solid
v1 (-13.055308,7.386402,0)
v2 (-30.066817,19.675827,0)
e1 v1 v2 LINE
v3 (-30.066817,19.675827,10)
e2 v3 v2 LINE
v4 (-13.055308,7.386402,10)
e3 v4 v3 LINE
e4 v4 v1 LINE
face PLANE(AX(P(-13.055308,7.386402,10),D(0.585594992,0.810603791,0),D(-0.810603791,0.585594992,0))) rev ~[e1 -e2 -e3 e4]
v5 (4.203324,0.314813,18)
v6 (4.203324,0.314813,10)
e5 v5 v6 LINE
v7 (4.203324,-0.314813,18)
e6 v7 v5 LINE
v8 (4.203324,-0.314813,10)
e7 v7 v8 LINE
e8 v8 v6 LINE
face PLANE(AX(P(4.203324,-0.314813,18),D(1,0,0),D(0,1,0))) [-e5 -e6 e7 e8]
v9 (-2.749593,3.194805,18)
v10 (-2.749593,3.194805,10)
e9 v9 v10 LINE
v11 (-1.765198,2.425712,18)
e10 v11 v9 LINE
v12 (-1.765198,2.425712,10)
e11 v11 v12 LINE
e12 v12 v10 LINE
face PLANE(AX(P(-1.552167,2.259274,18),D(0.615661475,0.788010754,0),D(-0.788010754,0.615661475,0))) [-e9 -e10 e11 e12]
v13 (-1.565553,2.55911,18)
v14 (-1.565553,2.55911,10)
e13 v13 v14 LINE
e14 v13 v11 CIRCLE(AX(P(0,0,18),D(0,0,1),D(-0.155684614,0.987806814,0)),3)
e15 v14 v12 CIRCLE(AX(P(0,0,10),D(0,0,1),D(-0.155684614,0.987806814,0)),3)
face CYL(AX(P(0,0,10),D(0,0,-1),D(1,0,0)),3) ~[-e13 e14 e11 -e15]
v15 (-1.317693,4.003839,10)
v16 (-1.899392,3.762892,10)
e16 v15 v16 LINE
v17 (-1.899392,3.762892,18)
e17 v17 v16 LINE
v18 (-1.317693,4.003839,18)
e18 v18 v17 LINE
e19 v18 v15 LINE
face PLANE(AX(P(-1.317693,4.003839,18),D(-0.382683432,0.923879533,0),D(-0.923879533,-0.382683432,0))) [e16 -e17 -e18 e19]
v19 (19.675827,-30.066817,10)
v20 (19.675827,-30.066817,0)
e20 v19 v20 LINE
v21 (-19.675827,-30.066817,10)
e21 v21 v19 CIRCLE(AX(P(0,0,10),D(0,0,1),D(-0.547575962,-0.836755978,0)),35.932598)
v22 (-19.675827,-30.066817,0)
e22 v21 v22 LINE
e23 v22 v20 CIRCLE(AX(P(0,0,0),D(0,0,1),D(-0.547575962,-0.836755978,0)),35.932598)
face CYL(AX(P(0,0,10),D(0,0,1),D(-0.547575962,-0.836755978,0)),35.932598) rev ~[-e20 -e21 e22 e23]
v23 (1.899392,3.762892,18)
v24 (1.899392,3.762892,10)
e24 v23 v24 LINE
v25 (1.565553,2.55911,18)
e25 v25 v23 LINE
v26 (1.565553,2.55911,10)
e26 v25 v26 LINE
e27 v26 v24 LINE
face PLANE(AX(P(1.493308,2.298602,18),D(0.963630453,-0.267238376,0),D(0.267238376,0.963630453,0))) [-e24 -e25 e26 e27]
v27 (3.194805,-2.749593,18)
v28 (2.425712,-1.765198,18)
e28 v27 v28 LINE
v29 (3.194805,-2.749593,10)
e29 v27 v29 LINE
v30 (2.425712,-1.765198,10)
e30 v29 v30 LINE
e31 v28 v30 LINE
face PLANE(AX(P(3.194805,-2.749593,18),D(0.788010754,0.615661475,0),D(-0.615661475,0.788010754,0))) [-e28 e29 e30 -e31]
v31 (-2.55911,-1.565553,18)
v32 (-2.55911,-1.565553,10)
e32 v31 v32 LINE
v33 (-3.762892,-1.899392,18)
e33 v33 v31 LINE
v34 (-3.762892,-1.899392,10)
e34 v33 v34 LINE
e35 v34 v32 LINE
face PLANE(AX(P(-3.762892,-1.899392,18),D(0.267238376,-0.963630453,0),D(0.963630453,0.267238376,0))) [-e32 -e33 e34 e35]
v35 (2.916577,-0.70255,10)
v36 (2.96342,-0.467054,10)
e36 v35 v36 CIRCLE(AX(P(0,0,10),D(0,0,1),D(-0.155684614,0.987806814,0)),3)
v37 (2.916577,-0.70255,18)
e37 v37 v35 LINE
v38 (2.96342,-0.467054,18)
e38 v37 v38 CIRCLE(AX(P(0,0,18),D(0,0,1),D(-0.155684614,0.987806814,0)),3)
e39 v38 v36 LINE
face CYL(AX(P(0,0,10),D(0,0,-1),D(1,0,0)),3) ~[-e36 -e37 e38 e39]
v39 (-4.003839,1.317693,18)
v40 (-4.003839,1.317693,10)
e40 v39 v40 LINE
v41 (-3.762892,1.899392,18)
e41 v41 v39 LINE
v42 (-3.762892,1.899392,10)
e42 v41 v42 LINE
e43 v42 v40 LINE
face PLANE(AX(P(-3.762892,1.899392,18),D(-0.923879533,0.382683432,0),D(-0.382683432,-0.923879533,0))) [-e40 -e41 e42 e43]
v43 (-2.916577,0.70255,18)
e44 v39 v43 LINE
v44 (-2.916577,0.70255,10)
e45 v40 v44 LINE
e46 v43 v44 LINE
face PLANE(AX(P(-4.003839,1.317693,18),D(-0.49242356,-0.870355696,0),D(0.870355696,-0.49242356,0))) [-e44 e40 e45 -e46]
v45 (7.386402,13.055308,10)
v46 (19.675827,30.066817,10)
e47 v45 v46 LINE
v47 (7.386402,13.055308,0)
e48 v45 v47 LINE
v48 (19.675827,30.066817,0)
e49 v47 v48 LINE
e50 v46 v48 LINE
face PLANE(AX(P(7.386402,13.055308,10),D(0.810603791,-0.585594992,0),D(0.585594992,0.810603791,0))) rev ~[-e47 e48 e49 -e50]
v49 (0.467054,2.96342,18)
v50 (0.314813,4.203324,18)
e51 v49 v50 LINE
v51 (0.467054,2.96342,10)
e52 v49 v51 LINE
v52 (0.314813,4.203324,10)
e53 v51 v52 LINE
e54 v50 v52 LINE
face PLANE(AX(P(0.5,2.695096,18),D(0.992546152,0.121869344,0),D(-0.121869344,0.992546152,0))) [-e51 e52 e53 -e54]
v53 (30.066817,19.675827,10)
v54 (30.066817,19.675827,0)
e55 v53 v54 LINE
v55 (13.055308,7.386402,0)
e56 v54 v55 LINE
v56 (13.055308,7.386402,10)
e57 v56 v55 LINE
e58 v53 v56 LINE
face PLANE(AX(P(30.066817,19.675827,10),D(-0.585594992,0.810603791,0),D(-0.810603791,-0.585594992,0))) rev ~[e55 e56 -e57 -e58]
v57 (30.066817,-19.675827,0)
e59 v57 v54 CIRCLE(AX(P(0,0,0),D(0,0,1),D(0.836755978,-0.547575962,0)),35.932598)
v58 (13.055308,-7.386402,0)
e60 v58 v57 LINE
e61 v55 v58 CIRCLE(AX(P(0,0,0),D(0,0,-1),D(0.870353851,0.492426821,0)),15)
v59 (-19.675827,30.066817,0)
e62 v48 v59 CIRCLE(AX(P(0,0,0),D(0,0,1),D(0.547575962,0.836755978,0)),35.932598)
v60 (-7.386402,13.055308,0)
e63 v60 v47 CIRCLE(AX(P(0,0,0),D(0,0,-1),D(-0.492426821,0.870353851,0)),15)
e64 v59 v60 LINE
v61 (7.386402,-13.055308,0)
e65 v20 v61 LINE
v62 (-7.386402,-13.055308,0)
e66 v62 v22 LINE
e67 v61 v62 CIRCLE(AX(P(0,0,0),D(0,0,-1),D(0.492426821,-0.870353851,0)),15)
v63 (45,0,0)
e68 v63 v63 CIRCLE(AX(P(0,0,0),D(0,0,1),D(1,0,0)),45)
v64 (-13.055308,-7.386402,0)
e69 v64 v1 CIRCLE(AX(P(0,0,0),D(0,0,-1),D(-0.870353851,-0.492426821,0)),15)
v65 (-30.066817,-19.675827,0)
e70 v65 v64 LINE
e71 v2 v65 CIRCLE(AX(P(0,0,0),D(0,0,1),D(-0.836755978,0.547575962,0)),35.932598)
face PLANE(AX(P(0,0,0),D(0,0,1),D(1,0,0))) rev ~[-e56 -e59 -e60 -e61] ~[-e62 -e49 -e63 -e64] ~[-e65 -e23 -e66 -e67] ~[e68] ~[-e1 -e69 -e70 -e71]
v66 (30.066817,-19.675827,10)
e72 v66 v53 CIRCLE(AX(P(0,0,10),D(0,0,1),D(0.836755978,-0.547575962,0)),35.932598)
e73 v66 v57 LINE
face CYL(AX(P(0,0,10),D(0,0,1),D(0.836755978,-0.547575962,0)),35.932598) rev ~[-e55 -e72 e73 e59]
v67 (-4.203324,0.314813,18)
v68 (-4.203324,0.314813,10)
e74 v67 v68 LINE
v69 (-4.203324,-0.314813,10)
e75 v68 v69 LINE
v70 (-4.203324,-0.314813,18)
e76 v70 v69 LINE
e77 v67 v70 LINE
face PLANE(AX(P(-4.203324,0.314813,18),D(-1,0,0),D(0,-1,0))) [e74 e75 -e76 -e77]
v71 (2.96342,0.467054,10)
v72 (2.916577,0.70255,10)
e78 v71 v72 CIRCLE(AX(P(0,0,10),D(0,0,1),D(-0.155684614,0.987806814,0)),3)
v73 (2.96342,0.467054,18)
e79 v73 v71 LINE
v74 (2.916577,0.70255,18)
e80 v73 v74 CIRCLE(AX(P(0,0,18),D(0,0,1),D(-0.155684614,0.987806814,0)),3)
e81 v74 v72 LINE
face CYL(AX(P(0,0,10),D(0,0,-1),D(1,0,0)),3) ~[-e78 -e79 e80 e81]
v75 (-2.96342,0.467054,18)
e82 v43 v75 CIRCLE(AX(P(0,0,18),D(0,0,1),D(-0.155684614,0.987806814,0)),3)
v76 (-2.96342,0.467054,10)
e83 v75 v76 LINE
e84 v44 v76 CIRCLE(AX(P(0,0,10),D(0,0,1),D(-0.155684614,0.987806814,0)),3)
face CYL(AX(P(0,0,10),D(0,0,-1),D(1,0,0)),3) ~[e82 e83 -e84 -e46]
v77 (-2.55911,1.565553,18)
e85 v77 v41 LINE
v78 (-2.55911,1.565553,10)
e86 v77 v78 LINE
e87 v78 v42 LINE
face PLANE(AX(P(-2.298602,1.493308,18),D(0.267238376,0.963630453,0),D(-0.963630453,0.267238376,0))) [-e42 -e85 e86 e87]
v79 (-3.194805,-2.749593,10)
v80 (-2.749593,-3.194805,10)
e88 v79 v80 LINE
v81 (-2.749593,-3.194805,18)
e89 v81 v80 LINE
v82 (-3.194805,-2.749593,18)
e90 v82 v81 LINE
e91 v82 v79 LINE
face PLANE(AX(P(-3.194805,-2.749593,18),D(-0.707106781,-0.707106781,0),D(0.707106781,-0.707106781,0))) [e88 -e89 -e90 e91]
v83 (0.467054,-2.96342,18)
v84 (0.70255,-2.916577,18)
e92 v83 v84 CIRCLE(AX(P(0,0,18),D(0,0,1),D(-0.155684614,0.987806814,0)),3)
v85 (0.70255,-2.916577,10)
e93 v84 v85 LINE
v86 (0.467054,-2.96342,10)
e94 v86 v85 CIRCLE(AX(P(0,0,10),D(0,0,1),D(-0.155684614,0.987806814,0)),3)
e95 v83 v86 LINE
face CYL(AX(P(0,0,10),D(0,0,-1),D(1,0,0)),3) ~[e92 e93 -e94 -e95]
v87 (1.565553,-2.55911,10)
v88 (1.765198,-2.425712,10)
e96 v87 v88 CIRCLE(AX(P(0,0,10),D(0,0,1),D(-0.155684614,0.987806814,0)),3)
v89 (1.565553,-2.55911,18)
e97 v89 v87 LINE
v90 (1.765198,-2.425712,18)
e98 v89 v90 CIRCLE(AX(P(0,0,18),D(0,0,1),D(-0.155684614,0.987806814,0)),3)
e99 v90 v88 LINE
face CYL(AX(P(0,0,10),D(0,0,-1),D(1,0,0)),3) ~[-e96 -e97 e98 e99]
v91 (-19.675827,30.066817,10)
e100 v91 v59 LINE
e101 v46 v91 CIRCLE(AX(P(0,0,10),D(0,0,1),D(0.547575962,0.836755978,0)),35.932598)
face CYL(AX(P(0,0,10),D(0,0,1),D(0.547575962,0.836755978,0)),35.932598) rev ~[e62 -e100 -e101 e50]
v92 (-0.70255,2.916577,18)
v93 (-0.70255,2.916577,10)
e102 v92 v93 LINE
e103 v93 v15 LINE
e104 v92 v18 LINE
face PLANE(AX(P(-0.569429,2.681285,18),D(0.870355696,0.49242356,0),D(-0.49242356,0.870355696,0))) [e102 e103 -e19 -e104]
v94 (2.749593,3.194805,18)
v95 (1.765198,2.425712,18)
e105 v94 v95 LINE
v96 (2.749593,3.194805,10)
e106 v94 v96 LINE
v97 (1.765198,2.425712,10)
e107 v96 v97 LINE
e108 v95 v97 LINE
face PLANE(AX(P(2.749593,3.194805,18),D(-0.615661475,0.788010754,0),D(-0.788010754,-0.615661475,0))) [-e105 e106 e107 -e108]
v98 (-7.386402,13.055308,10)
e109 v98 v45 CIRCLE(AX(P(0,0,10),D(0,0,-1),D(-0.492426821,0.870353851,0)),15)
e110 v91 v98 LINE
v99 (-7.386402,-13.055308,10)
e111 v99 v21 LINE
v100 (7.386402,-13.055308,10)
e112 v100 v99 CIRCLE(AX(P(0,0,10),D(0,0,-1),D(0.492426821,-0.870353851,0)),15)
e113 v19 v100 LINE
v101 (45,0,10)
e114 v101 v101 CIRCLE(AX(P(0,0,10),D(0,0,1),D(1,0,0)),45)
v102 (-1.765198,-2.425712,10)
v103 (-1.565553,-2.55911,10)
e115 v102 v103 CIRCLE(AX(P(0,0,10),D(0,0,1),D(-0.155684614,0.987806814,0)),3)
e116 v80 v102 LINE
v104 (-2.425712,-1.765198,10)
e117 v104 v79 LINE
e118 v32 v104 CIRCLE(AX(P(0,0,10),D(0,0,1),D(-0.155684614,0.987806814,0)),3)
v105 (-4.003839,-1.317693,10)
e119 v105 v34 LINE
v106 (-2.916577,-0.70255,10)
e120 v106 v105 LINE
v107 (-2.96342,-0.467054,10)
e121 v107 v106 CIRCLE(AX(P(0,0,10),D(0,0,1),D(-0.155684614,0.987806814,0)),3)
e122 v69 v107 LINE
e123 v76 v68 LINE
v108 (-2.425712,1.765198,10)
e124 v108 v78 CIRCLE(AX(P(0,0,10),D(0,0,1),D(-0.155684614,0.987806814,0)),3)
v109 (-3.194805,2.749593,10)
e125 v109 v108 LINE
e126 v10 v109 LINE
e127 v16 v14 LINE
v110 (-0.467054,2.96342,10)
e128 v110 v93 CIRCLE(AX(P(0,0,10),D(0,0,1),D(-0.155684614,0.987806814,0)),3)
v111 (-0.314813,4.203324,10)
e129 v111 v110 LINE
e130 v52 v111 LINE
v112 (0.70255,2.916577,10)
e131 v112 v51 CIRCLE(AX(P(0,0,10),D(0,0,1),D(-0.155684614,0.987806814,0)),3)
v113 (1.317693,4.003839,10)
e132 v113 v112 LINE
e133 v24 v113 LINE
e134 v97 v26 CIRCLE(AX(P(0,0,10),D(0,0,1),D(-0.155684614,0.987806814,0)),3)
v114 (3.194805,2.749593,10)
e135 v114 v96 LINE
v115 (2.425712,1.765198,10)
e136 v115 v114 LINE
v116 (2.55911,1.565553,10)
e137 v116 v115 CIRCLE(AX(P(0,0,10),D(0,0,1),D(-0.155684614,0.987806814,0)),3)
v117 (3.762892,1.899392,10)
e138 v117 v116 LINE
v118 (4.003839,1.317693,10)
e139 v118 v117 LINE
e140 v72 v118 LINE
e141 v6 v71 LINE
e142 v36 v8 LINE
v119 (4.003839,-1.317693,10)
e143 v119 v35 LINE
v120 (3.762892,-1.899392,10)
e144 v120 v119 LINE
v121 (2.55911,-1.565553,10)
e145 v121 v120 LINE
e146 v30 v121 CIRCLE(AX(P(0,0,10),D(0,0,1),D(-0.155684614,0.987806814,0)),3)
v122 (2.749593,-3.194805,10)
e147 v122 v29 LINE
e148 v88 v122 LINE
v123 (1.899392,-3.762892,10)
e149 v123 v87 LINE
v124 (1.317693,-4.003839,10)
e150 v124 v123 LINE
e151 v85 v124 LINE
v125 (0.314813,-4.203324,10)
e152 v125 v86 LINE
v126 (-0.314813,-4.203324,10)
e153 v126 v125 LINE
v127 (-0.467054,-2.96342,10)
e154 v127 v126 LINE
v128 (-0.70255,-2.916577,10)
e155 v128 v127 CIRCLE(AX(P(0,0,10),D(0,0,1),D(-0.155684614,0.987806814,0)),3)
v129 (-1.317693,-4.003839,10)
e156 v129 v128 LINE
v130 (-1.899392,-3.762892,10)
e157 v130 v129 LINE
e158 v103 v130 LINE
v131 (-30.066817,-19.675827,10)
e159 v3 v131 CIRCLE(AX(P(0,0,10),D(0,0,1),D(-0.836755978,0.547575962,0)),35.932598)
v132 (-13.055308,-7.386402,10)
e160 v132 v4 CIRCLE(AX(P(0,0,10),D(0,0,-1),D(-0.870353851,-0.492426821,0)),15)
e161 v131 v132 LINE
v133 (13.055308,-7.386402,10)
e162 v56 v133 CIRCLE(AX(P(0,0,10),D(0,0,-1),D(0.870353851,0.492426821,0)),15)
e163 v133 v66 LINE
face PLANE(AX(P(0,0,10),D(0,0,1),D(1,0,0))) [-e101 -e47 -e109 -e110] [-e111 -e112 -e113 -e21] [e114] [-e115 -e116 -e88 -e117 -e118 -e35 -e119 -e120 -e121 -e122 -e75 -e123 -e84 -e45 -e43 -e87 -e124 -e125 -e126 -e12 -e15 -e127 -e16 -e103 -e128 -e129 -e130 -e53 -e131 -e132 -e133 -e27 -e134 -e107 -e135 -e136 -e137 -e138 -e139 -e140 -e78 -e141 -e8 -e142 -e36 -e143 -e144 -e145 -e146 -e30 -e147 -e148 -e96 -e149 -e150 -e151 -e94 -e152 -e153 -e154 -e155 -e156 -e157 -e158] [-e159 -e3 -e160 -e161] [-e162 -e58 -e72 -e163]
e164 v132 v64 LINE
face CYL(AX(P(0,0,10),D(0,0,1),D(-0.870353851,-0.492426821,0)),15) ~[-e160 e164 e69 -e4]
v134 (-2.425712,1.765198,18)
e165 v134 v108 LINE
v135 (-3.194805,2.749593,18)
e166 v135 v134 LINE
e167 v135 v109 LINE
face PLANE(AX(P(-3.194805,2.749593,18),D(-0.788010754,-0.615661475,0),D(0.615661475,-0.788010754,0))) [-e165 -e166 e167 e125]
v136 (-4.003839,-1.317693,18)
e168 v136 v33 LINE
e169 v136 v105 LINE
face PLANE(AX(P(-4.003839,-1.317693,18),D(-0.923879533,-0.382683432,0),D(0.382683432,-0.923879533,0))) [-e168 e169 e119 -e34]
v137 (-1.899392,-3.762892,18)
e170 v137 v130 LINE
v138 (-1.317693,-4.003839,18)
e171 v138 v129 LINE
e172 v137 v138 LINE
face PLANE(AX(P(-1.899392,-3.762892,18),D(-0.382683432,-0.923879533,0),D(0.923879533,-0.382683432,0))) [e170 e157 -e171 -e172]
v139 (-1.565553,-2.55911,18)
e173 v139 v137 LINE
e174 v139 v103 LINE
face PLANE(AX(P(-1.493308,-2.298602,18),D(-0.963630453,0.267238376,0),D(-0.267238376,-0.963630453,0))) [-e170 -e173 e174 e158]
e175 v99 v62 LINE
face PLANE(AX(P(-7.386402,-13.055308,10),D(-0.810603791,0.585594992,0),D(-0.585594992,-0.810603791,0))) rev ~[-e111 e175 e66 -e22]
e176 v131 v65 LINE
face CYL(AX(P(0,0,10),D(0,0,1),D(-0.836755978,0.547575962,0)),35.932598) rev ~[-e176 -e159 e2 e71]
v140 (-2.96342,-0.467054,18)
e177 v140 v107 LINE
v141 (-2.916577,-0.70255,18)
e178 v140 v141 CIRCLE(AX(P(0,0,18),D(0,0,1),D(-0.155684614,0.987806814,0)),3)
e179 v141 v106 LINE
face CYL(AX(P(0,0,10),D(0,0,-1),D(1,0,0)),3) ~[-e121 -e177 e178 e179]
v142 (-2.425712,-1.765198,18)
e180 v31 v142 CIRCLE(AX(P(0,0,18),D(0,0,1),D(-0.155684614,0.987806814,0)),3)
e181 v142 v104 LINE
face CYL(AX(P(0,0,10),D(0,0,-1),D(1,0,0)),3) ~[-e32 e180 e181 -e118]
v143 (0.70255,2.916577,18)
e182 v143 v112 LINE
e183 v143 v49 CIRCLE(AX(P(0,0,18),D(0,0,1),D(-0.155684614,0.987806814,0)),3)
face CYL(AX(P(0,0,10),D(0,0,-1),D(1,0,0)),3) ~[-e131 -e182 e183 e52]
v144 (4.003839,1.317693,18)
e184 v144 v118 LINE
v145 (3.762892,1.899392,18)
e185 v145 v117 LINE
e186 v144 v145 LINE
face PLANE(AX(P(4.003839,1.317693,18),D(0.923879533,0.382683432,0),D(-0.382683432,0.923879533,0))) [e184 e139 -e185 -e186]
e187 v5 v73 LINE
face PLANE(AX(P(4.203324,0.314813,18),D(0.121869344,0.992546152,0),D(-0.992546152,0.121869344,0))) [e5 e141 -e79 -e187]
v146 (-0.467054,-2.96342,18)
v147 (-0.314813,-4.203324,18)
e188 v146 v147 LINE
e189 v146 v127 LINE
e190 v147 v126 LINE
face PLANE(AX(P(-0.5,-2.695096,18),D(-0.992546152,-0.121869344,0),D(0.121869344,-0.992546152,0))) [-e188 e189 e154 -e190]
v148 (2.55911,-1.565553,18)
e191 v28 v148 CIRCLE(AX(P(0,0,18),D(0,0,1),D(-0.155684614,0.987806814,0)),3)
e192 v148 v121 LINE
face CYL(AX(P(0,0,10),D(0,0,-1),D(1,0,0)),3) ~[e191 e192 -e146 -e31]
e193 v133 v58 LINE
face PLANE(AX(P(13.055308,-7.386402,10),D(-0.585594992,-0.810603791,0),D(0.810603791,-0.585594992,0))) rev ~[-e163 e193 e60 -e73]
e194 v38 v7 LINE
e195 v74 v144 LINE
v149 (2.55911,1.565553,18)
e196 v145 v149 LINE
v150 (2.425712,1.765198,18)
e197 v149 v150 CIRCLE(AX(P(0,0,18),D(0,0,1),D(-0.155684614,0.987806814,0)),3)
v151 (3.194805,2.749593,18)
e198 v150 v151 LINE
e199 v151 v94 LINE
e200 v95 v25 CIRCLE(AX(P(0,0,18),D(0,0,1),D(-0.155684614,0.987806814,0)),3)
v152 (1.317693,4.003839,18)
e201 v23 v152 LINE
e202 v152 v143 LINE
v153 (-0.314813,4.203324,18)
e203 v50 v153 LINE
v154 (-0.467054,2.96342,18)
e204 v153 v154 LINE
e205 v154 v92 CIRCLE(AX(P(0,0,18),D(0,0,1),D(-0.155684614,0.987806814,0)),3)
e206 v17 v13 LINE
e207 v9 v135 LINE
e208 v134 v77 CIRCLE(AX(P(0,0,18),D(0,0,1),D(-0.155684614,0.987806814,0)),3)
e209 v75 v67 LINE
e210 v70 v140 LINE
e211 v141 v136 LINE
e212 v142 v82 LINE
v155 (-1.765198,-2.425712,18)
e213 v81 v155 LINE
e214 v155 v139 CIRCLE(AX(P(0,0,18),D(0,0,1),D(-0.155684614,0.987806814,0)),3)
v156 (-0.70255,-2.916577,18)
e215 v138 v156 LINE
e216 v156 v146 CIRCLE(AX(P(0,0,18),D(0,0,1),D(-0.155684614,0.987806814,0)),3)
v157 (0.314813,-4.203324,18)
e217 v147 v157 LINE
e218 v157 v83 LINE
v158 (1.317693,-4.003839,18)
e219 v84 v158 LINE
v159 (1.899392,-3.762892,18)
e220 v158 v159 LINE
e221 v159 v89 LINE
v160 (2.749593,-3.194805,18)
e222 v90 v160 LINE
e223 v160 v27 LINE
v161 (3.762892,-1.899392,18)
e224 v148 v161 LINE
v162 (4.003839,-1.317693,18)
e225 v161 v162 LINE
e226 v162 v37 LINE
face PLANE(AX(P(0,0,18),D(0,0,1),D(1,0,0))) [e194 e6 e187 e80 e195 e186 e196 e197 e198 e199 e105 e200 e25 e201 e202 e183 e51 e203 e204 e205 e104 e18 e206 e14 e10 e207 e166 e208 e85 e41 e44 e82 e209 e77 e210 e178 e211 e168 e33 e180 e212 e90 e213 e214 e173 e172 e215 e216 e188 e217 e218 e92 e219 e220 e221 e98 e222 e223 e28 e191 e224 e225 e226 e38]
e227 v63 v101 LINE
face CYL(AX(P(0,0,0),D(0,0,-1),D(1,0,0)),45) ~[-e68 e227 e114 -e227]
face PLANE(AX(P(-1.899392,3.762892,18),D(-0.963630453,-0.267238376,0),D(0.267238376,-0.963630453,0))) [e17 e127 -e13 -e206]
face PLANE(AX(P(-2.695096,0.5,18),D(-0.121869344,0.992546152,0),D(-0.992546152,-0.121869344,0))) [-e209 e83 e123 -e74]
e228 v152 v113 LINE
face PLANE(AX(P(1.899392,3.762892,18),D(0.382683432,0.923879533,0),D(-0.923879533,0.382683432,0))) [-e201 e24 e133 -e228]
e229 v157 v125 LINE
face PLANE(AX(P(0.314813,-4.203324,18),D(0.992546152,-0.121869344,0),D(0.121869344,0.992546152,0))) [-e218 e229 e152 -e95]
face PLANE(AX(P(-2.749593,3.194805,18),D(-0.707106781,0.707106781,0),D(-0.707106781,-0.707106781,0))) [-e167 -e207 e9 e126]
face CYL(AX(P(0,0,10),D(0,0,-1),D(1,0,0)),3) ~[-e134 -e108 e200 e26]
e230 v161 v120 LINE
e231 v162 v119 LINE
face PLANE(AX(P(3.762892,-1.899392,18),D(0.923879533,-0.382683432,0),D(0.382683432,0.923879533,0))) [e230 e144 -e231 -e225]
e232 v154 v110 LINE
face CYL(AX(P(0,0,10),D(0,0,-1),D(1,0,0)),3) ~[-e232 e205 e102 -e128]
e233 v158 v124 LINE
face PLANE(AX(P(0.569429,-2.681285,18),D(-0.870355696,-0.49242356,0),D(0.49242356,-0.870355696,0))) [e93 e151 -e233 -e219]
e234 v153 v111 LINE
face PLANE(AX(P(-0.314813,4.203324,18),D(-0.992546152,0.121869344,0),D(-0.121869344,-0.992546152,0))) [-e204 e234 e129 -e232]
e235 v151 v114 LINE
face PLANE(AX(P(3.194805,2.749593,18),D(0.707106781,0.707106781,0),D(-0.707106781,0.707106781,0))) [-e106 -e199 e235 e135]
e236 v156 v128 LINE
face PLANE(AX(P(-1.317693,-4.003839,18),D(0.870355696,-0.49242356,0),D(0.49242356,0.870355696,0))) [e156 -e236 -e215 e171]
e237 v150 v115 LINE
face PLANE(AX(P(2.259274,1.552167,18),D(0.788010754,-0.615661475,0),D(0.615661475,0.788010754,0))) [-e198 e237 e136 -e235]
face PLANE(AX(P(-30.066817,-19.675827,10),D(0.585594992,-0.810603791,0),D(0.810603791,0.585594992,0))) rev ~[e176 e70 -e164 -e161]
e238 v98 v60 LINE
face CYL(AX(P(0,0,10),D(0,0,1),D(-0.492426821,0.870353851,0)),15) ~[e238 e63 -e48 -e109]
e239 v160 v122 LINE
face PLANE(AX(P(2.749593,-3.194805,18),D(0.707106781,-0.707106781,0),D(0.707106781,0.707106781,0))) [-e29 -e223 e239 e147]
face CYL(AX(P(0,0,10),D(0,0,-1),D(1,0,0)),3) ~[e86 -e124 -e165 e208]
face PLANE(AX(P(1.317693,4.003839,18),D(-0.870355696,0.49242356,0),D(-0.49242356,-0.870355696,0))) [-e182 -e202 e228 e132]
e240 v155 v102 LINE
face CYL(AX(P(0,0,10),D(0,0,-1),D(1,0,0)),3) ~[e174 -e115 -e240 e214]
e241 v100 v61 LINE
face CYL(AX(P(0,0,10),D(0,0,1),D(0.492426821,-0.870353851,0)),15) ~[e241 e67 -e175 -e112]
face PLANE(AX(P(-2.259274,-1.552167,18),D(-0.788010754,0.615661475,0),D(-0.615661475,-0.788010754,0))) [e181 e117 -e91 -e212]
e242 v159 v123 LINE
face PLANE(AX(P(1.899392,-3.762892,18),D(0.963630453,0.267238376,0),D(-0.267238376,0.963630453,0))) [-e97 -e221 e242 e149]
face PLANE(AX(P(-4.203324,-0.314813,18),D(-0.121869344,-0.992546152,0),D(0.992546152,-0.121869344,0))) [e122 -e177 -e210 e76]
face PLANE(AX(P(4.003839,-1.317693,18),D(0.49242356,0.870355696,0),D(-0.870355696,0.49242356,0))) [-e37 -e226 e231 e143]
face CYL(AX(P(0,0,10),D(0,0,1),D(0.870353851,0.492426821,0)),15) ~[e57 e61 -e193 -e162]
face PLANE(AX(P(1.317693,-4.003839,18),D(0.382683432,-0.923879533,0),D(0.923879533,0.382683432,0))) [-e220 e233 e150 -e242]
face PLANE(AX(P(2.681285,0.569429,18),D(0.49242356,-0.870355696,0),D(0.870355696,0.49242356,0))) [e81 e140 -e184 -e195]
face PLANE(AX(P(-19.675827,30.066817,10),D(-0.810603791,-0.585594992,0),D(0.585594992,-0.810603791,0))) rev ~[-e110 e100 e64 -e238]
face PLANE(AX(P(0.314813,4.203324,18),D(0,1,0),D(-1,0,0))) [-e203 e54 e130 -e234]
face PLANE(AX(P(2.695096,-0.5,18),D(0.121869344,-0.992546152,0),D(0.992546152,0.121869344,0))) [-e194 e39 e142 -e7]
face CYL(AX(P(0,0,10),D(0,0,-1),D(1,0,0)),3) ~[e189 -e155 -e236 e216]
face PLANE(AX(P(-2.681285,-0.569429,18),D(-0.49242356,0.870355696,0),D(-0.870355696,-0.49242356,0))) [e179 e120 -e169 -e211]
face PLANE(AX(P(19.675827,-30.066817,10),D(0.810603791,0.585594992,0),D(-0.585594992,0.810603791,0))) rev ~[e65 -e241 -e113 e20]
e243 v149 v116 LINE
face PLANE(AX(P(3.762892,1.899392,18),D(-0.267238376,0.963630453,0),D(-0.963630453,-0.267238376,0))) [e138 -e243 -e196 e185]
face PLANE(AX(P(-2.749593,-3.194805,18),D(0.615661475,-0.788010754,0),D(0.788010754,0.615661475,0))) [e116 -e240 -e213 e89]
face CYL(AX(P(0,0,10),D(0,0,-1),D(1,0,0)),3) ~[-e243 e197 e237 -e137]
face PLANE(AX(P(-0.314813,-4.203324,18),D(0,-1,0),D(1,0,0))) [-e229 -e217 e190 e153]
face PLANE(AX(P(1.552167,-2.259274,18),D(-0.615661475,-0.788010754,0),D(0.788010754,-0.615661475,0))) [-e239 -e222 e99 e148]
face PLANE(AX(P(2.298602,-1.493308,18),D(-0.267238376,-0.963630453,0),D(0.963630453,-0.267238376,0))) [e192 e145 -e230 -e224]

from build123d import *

# Parameters (mm, degrees)
ESBO_O1_R                = 45
RESSALTO_EXTRUS_O1_DEPTH = 10
CORTE_EXTRUS_O1_DEPTH    = 10
PADR_OCIRCULAR1_COUNT    = 4
ESBO_O3_R                = 3
RESSALTO_EXTRUS_O2_DEPTH = 8
RESSALTO_EXTRUS_O3_DEPTH = 8
PADR_OCIRCULAR2_COUNT    = 16


with BuildPart() as part:
    # Esboço1 → Ressalto-extrusão1 (new body)
    with BuildSketch(Plane.XY):
        Circle(ESBO_O1_R)
    extrude(amount=RESSALTO_EXTRUS_O1_DEPTH)

    # Esboço2 → Corte-extrusão1 (cut)
    with BuildSketch(Plane.XY.offset(10)):
        with BuildLine():
            Line((-19.67582712, 30.066816509), (-7.386402319, 13.055307763))
            ThreePointArc((-7.386402319, 13.055307763), (0, 15), (7.386402319, 13.055307763))
            Line((7.386402319, 13.055307763), (19.67582712, 30.066816509))
            ThreePointArc((19.67582712, 30.066816509), (0, 35.932598401), (-19.67582712, 30.066816509))
        make_face()
    corte_extrus_o1 = extrude(amount=-CORTE_EXTRUS_O1_DEPTH, mode=Mode.SUBTRACT)

    # PadrãoCircular1: Corte-extrusão1 ×4 about axis
    padr_ocircular1_axis = Axis((0, 0, 0), (0, 0, 1))
    for i in range(1, PADR_OCIRCULAR1_COUNT):
        add(corte_extrus_o1.rotate(padr_ocircular1_axis, i * 360 / PADR_OCIRCULAR1_COUNT), mode=Mode.SUBTRACT)

    # Esboço3 → Ressalto-extrusão2 (add)
    with BuildSketch(Plane.XY.offset(10)):
        Circle(ESBO_O3_R)
    extrude(amount=RESSALTO_EXTRUS_O2_DEPTH)

    # Esboço4 → Ressalto-extrusão3 (add)
    with BuildSketch(Plane.XY.offset(18)):
        Polygon((-0.5, 2.695095519), (0.5, 2.695095519), (0.314812798, 4.203324244), (-0.314812798, 4.203324244), align=None)
    ressalto_extrus_o3 = extrude(amount=-RESSALTO_EXTRUS_O3_DEPTH)

    # PadrãoCircular2: Ressalto-extrusão3 ×16 about axis
    padr_ocircular2_axis = Axis((0, 0, 0), (0, 0, 1))
    for i in range(1, PADR_OCIRCULAR2_COUNT):
        add(ressalto_extrus_o3.rotate(padr_ocircular2_axis, i * 360 / PADR_OCIRCULAR2_COUNT))


solid = part.part
